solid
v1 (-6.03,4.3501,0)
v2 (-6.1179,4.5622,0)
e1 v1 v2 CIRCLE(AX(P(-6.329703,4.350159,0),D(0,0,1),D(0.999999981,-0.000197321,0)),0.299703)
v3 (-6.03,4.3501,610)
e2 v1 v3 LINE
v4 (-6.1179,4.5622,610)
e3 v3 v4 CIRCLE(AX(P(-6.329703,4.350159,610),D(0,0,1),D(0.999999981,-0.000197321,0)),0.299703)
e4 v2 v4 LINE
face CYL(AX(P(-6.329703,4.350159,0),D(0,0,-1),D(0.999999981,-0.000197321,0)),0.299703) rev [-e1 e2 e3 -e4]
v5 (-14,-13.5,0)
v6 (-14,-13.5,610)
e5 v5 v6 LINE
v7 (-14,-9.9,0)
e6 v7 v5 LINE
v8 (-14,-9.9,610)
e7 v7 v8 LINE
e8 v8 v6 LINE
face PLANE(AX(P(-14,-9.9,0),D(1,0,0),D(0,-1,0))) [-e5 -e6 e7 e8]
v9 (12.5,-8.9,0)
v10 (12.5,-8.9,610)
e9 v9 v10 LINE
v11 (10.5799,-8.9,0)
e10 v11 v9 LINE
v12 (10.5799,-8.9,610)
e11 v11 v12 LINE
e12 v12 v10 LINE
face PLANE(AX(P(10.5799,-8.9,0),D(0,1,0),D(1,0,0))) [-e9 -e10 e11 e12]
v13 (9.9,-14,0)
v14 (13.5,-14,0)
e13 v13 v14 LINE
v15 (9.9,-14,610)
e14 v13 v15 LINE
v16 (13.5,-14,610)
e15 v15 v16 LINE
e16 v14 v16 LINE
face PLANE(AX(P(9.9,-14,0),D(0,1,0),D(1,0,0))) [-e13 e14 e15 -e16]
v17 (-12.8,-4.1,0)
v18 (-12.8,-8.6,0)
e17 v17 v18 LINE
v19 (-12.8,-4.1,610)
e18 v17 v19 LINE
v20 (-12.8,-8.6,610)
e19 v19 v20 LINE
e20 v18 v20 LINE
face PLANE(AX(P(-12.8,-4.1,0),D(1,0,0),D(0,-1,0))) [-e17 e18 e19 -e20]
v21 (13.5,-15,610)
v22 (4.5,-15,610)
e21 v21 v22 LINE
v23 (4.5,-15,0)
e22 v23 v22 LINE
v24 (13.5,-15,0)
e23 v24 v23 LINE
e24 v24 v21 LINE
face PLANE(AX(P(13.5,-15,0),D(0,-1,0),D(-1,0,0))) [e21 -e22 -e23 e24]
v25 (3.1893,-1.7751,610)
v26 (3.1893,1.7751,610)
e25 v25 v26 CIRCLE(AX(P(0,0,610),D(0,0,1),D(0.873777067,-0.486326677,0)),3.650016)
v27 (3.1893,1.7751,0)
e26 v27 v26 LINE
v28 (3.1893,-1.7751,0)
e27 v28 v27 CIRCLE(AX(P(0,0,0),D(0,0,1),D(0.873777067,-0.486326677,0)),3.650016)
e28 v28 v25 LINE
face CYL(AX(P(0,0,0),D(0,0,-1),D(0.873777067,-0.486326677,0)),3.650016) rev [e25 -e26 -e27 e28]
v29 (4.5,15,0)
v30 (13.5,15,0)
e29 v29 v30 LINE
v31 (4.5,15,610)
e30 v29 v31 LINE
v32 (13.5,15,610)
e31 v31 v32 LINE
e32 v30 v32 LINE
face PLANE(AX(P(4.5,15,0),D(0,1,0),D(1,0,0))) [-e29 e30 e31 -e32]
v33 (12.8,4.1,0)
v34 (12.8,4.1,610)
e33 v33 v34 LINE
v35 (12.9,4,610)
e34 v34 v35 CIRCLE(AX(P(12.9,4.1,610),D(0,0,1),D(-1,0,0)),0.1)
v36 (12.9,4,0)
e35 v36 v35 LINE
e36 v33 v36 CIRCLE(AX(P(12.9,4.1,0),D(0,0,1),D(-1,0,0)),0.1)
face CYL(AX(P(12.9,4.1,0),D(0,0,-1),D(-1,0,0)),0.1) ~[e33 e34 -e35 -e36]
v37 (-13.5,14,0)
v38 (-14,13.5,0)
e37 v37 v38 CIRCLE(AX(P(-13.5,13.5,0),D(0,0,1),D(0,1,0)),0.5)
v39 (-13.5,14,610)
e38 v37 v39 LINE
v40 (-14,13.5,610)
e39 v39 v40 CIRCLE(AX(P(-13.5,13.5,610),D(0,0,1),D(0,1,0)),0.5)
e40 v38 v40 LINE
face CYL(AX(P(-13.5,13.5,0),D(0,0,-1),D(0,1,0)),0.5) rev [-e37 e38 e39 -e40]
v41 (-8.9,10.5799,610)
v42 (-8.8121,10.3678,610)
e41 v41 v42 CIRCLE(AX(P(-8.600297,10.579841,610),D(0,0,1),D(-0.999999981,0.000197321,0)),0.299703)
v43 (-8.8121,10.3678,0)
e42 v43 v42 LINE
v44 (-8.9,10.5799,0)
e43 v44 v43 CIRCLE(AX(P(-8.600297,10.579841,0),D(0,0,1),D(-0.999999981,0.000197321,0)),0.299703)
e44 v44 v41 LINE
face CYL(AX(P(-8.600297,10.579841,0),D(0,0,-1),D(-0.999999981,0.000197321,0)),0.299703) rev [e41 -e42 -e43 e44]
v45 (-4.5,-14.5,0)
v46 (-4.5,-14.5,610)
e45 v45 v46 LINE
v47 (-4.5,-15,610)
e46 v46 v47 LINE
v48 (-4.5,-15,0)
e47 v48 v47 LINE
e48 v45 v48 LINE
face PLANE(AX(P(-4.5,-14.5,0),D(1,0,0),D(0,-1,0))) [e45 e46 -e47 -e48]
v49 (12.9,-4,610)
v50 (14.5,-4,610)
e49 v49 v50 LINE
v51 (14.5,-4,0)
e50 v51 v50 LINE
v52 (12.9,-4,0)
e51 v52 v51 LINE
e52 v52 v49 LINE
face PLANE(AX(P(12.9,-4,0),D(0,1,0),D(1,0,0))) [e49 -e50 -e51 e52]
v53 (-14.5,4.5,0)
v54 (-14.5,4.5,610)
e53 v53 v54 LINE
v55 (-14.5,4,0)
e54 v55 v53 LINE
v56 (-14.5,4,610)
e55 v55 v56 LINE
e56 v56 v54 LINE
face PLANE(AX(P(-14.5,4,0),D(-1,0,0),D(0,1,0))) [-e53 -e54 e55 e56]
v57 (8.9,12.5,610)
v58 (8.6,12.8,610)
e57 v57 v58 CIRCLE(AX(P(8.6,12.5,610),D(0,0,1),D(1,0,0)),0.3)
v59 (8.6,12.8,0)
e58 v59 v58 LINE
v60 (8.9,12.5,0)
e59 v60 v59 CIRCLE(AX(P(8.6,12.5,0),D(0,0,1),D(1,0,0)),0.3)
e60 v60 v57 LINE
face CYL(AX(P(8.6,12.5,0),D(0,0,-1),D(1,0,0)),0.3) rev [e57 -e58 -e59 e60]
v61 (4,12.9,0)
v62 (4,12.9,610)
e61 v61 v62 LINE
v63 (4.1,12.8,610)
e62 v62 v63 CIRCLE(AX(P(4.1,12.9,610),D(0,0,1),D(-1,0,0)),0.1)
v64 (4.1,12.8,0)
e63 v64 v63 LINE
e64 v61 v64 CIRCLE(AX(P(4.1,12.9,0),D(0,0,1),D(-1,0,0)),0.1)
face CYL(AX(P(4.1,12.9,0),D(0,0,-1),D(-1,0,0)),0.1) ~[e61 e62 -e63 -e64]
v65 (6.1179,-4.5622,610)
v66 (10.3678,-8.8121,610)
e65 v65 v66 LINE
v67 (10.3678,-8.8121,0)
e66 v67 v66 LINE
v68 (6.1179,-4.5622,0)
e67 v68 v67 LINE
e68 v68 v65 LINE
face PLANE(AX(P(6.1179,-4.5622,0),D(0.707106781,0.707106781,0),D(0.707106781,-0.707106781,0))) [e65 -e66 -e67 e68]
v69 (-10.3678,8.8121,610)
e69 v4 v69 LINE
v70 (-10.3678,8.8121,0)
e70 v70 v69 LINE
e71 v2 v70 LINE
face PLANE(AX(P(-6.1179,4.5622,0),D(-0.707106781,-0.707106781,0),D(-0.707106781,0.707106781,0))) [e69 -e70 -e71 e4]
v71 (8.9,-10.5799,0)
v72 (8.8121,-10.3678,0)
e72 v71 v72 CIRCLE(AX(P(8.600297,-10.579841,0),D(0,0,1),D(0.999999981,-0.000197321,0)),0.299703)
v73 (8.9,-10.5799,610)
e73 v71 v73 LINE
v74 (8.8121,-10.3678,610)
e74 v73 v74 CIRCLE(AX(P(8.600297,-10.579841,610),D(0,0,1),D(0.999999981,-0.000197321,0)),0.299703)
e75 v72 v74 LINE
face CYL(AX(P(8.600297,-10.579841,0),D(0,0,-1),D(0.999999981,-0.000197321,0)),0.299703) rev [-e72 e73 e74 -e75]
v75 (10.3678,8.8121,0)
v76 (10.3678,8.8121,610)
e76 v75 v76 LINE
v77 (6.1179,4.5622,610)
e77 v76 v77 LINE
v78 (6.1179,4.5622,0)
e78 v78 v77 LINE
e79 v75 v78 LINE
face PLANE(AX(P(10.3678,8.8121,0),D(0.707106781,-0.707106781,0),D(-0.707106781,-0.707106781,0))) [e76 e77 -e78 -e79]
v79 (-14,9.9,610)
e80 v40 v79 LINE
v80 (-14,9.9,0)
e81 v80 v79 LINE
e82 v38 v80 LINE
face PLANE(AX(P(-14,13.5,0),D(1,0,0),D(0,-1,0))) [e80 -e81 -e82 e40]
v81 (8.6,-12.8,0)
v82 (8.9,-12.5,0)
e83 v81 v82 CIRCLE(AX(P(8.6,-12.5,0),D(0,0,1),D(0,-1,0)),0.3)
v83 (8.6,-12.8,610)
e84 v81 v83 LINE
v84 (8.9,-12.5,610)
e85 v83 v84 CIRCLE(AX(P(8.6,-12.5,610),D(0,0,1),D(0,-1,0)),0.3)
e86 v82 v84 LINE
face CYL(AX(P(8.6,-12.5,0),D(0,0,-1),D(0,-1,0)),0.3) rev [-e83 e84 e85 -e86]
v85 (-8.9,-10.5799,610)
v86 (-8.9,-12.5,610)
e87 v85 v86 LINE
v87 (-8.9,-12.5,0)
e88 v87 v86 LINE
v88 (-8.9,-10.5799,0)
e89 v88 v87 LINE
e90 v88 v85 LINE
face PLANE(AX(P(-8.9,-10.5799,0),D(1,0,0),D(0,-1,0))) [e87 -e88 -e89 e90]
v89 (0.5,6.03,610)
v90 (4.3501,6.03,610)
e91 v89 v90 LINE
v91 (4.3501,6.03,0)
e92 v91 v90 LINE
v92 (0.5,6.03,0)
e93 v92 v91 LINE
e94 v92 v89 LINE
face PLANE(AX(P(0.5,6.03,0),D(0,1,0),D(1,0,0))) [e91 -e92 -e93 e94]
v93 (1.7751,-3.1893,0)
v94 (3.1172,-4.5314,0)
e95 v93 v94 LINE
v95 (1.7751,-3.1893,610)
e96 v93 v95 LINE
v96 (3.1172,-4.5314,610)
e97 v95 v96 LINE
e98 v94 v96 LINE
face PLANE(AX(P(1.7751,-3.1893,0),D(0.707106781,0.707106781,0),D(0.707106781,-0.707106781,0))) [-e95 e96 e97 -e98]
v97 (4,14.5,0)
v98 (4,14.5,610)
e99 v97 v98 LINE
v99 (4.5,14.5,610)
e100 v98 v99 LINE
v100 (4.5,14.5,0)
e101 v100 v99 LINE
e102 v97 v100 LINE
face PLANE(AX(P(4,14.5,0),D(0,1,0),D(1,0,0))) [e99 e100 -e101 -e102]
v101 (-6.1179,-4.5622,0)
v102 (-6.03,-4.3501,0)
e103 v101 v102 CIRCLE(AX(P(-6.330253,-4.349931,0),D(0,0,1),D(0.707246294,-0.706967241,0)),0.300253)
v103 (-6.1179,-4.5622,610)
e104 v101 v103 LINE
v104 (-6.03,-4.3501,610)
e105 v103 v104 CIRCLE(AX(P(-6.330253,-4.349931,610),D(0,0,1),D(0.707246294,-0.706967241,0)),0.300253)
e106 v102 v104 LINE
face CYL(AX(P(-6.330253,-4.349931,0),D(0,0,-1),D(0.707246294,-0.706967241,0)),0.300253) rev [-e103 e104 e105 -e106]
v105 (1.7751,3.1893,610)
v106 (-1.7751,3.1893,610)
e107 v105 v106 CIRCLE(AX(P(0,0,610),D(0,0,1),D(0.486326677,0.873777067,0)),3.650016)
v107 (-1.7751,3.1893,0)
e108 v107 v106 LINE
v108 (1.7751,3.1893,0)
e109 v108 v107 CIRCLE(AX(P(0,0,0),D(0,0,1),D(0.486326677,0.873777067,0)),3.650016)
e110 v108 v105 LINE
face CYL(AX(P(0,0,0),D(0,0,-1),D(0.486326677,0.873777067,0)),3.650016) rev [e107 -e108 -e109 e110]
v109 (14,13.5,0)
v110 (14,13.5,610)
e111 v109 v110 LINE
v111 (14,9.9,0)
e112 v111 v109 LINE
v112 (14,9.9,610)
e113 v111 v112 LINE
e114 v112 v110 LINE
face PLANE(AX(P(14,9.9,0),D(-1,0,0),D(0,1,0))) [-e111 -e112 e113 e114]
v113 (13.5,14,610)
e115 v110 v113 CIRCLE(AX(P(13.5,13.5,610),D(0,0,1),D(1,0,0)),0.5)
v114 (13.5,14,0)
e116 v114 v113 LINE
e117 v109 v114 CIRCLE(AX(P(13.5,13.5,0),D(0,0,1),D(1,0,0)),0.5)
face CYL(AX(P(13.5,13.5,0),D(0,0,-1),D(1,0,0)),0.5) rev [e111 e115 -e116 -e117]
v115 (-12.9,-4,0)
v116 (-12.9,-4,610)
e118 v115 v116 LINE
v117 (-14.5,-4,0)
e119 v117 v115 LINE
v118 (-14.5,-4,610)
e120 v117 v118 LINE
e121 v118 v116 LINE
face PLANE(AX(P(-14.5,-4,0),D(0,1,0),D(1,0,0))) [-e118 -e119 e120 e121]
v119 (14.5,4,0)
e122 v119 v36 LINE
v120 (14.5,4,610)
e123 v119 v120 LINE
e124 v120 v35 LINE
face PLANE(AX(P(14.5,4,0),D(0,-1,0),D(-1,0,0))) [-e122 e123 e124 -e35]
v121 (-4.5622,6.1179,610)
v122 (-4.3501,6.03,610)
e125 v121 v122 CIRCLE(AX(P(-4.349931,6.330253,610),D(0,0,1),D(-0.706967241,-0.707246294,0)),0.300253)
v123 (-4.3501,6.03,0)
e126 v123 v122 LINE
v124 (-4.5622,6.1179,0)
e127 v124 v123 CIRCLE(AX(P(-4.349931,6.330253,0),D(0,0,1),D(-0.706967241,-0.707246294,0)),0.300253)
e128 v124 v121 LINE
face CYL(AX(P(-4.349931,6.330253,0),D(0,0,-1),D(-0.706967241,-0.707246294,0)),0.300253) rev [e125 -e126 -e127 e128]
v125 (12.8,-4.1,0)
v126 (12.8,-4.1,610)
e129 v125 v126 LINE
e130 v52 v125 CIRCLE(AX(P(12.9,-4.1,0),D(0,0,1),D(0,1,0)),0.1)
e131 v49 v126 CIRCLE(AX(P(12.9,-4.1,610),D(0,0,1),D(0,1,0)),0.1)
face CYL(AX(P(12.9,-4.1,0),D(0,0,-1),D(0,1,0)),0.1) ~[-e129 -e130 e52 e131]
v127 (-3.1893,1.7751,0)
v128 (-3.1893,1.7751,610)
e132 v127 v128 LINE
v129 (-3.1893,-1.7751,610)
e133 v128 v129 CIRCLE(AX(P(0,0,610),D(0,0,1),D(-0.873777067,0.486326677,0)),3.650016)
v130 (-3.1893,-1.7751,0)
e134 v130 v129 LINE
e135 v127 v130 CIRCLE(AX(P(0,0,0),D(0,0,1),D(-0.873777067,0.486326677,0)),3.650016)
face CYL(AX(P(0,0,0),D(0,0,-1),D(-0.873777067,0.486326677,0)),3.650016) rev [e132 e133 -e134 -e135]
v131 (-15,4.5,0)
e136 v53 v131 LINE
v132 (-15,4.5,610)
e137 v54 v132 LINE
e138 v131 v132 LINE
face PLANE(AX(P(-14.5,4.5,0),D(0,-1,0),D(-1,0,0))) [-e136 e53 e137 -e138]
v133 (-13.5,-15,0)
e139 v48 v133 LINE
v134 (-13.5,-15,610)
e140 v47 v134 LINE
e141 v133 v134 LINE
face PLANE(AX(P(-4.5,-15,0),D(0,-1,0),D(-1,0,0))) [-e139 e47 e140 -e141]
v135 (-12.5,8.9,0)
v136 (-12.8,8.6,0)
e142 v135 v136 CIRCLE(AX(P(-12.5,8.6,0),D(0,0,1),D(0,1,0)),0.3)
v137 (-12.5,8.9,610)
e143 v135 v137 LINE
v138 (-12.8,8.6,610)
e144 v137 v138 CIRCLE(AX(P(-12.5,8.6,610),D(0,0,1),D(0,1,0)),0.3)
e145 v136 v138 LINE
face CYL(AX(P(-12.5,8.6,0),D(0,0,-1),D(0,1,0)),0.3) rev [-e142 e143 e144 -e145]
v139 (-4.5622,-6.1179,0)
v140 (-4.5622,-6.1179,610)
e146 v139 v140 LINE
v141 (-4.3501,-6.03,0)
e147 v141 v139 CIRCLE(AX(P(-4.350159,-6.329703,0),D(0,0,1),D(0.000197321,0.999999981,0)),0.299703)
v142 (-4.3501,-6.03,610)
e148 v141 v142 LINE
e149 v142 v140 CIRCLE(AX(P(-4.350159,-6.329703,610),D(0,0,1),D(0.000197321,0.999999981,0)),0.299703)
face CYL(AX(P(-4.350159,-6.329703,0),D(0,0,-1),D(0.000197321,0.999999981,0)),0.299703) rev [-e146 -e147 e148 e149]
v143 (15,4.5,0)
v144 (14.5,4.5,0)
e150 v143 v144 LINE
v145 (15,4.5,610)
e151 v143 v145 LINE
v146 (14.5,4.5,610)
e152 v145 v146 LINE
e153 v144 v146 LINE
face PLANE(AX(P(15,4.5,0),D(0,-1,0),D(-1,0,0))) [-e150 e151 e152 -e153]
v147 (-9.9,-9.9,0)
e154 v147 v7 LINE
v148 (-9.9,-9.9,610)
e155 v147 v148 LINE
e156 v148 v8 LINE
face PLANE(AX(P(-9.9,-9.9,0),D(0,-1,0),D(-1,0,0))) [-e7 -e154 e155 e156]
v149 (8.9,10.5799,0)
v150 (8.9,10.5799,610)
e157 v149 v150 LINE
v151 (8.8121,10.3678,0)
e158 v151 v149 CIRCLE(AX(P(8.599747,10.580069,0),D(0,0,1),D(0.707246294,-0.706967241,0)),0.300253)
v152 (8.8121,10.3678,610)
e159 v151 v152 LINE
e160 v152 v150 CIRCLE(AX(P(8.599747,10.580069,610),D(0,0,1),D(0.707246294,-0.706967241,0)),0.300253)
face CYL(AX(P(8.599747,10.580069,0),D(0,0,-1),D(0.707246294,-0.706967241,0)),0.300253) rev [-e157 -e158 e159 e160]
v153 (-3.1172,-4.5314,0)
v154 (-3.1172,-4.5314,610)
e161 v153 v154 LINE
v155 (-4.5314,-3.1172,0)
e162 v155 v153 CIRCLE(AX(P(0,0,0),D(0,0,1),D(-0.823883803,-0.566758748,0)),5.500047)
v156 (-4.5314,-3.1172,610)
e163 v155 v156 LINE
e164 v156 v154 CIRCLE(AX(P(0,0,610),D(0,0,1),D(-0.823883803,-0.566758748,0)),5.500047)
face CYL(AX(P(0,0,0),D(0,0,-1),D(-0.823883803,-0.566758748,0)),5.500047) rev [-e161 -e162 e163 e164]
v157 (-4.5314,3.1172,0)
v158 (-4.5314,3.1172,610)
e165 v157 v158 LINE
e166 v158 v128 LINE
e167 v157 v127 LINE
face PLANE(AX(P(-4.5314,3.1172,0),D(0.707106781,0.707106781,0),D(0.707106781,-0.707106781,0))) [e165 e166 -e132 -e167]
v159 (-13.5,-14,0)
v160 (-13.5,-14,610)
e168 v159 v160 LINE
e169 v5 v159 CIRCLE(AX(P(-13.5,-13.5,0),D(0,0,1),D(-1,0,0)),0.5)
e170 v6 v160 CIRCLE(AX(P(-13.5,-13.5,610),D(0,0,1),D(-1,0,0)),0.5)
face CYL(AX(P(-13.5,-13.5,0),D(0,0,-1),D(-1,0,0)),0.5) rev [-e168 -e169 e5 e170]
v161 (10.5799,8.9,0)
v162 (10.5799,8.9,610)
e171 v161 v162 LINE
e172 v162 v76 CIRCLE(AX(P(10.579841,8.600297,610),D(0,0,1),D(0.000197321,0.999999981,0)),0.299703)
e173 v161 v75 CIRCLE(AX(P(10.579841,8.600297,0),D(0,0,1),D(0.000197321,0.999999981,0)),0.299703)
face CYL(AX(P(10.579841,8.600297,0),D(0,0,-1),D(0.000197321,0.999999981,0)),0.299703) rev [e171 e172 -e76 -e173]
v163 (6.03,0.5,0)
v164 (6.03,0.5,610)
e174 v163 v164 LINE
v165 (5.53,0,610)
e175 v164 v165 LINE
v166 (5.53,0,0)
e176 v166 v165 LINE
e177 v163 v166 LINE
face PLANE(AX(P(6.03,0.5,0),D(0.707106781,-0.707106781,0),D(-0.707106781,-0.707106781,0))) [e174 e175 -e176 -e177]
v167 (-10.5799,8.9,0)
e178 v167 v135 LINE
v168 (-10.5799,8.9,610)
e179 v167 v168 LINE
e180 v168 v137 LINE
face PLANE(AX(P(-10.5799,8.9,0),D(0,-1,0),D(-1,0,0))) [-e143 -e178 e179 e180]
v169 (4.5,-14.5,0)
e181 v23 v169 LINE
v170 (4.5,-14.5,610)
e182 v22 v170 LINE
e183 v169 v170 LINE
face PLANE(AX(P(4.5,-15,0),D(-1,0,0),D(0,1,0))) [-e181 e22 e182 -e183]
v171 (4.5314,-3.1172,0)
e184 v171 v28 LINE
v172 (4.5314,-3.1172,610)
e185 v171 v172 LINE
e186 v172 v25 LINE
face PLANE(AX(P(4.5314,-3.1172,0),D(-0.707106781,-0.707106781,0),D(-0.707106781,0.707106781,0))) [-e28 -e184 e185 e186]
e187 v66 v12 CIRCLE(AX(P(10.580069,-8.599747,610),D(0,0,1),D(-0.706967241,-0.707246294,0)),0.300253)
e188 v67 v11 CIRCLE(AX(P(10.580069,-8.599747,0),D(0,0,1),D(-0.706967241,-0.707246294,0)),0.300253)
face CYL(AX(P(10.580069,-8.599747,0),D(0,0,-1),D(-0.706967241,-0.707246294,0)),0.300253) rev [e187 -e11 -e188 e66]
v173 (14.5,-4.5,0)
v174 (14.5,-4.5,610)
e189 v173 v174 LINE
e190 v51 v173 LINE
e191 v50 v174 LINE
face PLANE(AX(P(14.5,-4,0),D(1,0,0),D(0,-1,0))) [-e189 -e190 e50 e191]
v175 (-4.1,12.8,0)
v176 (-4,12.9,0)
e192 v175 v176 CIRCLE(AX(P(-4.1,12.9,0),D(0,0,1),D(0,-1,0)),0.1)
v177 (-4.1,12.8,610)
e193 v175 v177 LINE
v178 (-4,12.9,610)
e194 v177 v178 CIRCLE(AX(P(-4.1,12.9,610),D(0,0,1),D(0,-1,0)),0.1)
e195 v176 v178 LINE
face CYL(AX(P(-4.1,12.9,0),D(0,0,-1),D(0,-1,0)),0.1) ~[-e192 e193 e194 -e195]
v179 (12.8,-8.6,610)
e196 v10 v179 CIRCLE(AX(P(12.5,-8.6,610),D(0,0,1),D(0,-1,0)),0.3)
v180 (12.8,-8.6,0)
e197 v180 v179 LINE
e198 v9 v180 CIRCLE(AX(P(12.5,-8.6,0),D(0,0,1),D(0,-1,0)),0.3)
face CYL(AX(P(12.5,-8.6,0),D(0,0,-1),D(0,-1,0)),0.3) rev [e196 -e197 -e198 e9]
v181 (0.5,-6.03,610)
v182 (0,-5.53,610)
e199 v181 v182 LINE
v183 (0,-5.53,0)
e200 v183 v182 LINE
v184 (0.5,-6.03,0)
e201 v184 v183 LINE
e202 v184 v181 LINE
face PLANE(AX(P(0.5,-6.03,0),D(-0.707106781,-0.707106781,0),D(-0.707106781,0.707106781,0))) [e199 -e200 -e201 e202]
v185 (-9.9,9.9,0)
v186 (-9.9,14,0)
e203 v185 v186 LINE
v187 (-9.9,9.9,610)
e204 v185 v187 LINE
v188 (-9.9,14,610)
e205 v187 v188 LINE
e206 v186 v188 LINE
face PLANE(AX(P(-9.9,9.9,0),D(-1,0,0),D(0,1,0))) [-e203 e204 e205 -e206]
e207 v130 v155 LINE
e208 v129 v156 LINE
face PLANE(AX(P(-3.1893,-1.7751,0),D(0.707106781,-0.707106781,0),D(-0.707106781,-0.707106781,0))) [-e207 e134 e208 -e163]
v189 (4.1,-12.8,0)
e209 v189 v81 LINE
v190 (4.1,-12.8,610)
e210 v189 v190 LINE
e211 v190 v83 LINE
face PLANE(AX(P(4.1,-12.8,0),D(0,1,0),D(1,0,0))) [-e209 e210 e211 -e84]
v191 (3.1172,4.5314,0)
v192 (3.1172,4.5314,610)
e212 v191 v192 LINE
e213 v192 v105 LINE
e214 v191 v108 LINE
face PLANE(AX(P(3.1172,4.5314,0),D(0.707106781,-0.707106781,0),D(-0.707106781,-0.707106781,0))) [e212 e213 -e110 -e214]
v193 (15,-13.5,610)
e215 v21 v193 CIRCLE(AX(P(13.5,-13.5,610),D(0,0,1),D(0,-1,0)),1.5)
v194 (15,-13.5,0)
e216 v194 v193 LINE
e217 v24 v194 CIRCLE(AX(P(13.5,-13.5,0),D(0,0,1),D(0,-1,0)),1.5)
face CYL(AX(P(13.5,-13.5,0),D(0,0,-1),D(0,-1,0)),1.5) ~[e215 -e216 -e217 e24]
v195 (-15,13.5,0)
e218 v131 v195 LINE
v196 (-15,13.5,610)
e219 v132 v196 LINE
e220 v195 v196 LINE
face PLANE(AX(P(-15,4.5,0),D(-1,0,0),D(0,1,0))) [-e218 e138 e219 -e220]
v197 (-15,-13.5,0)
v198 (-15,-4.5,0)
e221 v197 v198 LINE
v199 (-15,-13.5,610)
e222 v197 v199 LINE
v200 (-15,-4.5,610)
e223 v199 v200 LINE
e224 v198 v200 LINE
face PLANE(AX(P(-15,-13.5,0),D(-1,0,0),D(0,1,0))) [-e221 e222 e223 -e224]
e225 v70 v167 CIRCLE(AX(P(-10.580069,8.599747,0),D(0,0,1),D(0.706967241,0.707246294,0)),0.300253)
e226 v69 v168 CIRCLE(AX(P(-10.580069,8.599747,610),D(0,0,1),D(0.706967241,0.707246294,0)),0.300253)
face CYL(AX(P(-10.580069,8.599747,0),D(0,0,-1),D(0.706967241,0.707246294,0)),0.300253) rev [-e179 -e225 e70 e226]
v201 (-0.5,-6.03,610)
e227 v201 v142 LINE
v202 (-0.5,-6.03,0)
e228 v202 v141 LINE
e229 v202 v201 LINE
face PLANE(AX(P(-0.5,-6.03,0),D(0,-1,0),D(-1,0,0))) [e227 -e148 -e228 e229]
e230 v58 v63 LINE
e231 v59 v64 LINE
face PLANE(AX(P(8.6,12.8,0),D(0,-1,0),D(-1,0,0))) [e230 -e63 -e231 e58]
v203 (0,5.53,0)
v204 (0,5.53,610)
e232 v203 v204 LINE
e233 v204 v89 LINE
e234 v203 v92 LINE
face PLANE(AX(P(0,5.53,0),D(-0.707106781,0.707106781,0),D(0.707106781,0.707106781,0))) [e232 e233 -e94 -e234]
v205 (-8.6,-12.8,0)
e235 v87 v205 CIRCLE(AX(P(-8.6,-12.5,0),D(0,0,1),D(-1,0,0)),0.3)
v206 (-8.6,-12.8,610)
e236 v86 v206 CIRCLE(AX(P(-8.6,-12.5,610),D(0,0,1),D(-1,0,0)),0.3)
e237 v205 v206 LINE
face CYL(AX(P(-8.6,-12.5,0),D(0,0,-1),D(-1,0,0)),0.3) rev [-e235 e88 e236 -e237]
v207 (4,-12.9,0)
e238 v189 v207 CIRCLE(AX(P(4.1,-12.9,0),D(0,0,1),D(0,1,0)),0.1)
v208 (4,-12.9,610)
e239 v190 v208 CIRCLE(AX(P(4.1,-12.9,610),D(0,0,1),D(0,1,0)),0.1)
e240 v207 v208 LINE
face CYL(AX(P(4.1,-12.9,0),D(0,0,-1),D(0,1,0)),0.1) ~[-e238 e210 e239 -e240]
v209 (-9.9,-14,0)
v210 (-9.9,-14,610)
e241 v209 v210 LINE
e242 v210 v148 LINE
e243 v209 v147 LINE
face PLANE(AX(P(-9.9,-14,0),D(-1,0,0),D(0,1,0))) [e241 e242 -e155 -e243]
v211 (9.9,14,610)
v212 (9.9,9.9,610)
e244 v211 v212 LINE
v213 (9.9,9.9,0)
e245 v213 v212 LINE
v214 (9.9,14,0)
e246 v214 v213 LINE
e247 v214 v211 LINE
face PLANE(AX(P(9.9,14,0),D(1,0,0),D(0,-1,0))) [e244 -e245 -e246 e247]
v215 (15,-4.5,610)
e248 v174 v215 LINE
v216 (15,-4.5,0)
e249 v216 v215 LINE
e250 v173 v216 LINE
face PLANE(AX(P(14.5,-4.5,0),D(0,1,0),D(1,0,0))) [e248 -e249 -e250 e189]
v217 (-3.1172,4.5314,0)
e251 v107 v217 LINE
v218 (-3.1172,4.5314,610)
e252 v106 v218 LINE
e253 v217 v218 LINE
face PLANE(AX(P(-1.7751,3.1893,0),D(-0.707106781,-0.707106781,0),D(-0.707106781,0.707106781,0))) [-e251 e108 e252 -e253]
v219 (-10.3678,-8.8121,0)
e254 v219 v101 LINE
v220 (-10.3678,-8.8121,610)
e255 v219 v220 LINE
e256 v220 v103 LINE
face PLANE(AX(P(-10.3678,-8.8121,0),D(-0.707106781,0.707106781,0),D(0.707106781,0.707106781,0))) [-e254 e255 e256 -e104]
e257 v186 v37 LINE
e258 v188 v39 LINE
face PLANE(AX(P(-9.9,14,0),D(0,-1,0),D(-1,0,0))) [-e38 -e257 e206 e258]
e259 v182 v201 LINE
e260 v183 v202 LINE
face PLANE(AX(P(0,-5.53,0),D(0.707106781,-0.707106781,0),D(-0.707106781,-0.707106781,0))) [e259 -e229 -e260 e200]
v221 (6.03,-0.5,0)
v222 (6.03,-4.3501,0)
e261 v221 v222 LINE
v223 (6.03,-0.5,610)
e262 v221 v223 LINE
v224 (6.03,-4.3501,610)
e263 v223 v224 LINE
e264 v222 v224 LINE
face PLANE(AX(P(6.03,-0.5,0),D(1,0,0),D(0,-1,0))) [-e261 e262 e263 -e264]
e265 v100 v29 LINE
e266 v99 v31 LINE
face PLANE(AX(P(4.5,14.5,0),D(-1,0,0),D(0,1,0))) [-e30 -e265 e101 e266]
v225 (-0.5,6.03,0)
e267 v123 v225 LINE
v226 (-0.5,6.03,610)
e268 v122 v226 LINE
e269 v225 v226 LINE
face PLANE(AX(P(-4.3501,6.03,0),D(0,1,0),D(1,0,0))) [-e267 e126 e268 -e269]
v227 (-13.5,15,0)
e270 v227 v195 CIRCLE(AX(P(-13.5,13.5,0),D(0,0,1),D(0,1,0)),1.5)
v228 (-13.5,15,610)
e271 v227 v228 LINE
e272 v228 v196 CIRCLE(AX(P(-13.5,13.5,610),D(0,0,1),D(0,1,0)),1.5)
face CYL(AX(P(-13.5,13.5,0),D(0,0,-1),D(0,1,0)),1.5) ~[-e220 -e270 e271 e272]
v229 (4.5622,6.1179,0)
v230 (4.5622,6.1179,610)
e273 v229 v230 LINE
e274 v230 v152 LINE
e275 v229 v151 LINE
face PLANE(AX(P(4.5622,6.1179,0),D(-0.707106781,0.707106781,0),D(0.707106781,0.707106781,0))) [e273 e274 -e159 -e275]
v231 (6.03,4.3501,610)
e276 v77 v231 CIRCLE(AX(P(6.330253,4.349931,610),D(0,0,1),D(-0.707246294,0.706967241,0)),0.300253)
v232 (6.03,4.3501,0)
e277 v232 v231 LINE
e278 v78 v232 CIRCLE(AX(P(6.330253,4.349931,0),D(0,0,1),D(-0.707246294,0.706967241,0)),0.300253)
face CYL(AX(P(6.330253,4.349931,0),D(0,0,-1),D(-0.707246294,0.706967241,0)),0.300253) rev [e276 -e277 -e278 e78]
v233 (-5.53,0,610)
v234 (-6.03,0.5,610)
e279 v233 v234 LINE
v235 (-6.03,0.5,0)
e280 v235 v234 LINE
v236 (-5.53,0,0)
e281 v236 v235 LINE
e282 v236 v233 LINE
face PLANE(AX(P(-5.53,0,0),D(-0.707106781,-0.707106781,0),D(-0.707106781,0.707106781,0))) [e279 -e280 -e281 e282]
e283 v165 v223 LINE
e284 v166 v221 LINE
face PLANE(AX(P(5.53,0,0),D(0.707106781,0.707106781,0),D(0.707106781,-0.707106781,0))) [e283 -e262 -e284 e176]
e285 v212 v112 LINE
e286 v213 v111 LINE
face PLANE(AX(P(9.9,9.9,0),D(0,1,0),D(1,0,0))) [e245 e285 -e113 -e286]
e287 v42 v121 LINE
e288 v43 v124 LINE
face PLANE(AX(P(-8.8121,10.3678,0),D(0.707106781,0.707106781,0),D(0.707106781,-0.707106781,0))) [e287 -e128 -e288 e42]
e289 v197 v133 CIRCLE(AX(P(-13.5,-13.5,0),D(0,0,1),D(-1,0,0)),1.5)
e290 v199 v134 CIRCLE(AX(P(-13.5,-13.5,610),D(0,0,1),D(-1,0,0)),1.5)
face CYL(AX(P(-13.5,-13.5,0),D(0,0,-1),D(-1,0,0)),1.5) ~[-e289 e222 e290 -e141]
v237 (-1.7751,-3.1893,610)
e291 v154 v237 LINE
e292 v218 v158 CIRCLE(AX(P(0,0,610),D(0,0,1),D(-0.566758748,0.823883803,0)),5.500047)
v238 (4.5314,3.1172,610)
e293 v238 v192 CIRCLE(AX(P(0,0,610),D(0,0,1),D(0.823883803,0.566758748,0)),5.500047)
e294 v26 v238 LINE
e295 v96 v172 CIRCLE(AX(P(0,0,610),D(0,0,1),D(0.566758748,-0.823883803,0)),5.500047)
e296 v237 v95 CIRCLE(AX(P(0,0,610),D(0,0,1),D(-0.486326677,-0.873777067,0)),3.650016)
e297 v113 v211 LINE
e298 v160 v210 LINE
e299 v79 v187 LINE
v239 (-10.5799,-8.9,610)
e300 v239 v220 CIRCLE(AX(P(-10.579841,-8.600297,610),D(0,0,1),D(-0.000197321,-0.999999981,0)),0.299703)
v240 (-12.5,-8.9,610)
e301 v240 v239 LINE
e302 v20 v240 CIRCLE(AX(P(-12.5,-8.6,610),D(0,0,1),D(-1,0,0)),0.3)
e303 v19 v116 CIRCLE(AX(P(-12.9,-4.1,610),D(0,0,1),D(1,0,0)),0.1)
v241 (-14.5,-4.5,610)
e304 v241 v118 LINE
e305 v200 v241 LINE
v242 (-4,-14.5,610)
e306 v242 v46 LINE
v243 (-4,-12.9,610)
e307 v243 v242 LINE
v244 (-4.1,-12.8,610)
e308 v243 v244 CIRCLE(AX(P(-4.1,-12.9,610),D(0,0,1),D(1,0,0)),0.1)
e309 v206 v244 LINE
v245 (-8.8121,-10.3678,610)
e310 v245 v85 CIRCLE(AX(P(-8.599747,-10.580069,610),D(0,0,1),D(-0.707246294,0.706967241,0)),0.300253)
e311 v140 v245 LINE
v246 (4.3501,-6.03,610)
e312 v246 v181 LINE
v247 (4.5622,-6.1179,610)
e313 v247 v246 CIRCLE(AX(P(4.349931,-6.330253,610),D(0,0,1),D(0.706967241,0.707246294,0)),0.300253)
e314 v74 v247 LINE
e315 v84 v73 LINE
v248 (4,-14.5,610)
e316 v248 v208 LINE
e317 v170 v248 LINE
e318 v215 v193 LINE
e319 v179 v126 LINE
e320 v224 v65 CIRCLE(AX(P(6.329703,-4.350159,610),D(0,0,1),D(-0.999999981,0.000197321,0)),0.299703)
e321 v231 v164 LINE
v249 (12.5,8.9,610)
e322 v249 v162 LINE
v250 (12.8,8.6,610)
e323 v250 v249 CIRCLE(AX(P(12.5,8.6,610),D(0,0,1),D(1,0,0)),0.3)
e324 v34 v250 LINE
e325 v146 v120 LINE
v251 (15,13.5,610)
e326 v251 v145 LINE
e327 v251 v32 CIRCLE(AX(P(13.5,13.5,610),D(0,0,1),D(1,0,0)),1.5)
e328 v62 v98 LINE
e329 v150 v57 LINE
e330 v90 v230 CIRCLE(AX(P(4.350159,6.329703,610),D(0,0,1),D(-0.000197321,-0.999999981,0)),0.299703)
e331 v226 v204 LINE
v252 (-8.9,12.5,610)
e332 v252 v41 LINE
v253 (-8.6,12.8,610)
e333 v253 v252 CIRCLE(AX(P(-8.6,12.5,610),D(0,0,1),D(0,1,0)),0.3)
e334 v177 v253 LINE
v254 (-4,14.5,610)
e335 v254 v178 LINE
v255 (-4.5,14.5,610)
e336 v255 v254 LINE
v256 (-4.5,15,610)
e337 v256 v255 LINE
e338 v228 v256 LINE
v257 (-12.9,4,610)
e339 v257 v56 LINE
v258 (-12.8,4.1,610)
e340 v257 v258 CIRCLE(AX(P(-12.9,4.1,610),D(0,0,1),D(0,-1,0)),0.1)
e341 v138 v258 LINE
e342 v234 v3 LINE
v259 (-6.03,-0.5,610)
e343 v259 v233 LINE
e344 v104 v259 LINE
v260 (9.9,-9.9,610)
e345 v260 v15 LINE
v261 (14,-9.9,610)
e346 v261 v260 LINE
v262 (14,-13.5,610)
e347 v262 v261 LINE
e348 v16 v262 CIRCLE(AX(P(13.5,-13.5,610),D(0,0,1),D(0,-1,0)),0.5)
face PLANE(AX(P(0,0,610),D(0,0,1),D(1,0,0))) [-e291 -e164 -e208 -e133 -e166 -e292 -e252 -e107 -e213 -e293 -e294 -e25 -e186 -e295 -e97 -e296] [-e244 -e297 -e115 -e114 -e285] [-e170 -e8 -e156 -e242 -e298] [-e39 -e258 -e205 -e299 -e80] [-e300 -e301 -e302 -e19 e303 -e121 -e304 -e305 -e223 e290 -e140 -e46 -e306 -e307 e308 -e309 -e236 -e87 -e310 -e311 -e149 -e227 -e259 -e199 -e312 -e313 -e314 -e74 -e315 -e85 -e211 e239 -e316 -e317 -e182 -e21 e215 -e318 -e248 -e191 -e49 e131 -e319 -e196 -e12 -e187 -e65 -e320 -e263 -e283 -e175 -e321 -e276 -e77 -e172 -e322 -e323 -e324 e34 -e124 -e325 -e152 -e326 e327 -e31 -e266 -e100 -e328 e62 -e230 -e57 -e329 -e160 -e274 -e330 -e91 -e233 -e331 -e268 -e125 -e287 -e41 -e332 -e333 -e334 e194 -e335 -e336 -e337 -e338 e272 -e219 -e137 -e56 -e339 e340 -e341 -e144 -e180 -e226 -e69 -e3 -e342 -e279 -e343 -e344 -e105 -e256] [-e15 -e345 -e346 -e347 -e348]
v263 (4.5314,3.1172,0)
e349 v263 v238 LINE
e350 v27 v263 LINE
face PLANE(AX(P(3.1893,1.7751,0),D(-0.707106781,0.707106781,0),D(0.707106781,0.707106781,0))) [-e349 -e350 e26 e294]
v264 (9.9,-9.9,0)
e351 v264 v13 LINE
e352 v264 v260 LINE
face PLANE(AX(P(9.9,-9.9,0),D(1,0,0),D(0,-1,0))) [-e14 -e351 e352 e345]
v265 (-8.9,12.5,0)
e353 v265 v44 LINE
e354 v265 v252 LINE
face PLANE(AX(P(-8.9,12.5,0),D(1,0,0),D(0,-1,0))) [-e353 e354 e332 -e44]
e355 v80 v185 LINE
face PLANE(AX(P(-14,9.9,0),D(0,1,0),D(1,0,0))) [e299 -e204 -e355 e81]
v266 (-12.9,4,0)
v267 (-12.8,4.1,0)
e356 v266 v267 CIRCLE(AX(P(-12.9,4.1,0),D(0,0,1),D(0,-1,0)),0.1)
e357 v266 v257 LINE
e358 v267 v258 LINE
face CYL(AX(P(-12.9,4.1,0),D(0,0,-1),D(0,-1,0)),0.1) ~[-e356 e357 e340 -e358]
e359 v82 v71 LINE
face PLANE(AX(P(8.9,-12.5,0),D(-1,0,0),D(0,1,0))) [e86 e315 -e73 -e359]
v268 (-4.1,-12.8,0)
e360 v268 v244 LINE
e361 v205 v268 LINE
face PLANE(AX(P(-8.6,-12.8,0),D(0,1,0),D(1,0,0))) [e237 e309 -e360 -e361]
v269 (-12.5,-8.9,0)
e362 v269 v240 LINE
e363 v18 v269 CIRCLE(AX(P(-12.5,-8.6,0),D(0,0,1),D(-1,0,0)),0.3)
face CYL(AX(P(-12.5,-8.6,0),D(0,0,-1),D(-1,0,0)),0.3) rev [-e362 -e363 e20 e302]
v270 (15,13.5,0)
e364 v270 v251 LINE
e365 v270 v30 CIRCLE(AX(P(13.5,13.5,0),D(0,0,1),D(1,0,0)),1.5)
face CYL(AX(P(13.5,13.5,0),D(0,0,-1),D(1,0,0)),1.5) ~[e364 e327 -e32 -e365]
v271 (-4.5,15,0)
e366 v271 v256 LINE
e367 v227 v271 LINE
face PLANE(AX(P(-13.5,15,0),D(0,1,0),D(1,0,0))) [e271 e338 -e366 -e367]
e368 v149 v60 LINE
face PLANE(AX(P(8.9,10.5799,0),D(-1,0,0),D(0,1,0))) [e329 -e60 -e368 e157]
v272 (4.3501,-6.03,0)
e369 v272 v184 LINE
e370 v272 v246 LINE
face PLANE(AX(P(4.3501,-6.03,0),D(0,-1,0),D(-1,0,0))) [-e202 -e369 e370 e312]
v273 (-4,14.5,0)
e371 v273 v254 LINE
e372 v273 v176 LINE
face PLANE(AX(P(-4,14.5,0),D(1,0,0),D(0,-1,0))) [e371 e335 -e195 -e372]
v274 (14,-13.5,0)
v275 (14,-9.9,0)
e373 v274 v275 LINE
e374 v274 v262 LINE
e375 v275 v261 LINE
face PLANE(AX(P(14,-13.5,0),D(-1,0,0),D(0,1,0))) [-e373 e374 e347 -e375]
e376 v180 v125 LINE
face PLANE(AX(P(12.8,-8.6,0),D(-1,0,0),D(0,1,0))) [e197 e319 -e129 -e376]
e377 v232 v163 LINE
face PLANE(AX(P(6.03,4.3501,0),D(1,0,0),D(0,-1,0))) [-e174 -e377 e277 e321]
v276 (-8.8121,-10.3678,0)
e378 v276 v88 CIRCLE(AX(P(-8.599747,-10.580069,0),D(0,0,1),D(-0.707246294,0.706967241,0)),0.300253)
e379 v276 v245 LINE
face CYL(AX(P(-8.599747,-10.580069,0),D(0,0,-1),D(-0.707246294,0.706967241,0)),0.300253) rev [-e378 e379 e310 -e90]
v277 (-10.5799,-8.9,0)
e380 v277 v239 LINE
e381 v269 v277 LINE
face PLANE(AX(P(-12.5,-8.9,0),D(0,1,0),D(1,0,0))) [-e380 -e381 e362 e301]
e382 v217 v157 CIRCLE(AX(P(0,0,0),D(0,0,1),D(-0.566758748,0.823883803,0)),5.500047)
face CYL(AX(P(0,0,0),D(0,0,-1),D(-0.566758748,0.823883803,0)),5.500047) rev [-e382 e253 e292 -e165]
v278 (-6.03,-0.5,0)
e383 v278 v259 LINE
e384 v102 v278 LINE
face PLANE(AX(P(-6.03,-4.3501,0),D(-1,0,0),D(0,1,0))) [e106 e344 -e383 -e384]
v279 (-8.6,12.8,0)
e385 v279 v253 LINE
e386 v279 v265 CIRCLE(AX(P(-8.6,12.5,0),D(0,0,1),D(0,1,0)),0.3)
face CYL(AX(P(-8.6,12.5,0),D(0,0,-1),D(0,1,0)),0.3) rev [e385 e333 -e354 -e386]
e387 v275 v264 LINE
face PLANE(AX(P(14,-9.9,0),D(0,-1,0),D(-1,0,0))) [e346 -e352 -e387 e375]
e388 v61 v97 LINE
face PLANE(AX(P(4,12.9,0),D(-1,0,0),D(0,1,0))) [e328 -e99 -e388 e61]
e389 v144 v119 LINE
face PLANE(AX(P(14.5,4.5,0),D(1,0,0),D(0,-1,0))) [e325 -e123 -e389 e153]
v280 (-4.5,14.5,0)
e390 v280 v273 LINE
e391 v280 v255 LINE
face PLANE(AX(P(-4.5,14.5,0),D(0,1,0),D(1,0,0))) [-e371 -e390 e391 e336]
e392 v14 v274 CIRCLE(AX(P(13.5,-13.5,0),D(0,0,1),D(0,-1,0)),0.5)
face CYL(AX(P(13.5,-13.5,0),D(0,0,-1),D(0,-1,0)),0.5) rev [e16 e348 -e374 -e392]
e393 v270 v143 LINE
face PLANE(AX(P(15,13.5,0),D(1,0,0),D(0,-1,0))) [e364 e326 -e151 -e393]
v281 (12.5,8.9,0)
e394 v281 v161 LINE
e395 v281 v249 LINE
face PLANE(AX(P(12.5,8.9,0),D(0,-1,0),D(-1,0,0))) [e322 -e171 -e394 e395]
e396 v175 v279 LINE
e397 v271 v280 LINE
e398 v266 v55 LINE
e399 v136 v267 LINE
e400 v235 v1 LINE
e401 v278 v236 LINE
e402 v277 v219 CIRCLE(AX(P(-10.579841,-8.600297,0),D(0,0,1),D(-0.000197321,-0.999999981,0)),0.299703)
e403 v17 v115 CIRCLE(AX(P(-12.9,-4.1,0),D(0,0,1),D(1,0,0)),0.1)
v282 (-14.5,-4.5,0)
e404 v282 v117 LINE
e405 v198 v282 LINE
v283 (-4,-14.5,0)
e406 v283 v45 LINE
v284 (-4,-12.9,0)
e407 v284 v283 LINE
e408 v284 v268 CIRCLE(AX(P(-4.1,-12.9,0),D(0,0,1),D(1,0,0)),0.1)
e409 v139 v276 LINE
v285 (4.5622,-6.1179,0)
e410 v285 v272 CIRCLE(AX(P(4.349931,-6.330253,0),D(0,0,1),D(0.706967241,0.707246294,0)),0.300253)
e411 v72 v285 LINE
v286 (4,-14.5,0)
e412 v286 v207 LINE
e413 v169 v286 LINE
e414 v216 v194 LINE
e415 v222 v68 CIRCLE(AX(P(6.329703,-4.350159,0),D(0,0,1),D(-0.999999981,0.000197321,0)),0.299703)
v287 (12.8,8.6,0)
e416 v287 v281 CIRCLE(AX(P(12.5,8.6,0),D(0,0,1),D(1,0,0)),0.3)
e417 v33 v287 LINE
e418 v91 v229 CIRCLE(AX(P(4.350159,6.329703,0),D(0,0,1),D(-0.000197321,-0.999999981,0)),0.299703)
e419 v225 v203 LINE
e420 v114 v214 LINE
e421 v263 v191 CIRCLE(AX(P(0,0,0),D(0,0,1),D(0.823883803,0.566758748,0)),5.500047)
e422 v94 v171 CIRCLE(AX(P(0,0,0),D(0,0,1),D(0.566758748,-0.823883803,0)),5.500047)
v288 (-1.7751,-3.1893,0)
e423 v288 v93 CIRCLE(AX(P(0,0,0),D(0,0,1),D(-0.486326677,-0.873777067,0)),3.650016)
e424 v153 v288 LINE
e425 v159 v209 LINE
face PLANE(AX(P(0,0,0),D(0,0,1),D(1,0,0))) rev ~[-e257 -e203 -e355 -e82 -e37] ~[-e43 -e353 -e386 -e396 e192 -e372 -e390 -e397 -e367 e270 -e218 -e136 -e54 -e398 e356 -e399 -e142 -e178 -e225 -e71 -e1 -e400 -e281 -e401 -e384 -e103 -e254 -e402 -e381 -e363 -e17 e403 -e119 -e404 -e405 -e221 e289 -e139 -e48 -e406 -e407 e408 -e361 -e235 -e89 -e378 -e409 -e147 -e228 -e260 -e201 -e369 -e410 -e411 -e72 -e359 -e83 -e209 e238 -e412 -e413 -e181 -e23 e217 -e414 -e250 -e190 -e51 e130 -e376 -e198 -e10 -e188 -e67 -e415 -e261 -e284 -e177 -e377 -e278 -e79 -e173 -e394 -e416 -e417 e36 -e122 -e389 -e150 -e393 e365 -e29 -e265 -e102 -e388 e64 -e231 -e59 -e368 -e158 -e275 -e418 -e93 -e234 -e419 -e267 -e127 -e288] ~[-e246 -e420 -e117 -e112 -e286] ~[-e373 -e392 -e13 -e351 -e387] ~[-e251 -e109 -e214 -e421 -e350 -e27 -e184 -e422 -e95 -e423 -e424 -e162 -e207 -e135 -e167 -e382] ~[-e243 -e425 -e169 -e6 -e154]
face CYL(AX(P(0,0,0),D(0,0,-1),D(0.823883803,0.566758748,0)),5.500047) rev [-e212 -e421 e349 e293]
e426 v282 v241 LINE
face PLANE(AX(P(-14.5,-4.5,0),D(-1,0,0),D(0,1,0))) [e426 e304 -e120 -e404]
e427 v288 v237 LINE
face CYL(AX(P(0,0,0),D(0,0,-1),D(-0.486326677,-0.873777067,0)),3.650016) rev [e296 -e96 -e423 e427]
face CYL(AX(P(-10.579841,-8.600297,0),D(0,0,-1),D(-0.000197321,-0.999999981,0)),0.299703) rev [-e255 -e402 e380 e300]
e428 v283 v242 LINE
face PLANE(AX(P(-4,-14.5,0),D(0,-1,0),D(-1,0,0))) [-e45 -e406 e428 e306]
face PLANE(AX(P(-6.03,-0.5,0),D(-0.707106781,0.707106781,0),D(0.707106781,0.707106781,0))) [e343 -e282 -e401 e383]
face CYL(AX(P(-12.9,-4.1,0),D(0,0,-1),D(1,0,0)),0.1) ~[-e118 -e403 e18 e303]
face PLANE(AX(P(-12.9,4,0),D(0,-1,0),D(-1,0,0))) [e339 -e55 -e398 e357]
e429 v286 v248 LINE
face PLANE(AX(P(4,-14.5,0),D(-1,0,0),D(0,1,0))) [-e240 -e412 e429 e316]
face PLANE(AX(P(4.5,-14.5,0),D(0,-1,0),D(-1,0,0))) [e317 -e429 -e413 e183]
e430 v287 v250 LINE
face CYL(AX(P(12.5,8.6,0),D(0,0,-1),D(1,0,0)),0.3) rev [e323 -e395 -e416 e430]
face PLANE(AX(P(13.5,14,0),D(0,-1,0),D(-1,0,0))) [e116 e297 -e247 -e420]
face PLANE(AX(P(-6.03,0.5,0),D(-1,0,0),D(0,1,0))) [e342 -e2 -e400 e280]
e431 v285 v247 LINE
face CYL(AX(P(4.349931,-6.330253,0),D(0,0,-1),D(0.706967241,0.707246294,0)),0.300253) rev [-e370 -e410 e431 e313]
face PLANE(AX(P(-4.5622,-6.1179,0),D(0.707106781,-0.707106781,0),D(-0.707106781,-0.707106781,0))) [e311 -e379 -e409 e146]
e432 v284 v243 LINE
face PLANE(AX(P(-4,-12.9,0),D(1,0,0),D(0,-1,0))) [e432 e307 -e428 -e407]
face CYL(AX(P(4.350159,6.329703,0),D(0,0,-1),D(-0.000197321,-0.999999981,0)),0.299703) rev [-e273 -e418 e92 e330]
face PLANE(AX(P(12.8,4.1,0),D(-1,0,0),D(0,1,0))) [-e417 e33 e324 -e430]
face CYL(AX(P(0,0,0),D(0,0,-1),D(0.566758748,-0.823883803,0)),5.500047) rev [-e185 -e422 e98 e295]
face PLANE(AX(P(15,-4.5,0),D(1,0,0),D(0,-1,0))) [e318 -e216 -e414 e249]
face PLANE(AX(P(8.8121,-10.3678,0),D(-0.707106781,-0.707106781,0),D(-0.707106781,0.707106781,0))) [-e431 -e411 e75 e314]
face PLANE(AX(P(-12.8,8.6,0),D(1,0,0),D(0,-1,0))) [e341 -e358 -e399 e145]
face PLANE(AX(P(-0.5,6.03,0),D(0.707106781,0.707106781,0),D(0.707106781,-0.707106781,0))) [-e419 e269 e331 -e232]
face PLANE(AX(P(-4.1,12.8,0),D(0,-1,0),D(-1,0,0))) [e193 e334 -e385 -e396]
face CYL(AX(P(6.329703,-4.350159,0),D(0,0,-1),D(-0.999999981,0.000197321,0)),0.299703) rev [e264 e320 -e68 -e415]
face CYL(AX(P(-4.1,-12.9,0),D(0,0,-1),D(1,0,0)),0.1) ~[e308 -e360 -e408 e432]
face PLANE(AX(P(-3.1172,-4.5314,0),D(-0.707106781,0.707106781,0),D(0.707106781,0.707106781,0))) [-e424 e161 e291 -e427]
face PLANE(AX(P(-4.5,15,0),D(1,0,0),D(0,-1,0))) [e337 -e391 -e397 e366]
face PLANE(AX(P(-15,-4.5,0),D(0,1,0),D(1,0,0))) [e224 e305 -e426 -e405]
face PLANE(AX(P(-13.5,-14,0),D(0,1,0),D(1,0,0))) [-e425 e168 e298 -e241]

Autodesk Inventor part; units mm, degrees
ref_plane "YZ Plane" through (0, 0, 0) normal (1, 0, 0) x (0, 1, 0)
ref_plane "Płaszczyzna początkowa" through (0, 0, 0) normal (0, 0, 1) x (1, 0, 0)
ref_plane "Płaszczyzna końcowa" through (0, 0, 610) normal (0, 0, 1) x (1, 0, 0)
sketch "Szkic" plane through (0, 0, 0) normal (0, 0, 1) x (1, 0, 0)
  line L0 (1.7751, -3.1893) -> (3.1172, -4.5314)
  arc A0 (-1.7751, -3.1893) -> (1.7751, -3.1893) centre (0, 0) ccw
  line L1 (-3.1172, -4.5314) -> (-1.7751, -3.1893)
  arc A1 (-4.5314, -3.1172) -> (-3.1172, -4.5314) centre (0, 0) ccw
  line L2 (-3.1893, -1.7751) -> (-4.5314, -3.1172)
  arc A2 (-3.1893, 1.7751) -> (-3.1893, -1.7751) centre (0, 0) ccw
  line L3 (-4.5314, 3.1172) -> (-3.1893, 1.7751)
  arc A3 (-3.1172, 4.5314) -> (-4.5314, 3.1172) centre (0, 0) ccw
  line L4 (-1.7751, 3.1893) -> (-3.1172, 4.5314)
  arc A4 (1.7751, 3.1893) -> (-1.7751, 3.1893) centre (0, 0) ccw
  line L5 (3.1172, 4.5314) -> (1.7751, 3.1893)
  arc A5 (4.5314, 3.1172) -> (3.1172, 4.5314) centre (0, 0) ccw
  line L6 (3.1893, 1.7751) -> (4.5314, 3.1172)
  arc A6 (3.1893, -1.7751) -> (3.1893, 1.7751) centre (0, 0) ccw
  line L7 (4.5314, -3.1172) -> (3.1893, -1.7751)
  arc A7 (3.1172, -4.5314) -> (4.5314, -3.1172) centre (0, 0) ccw
  line L8 (14, -13.5) -> (14, -9.9)
  arc A8 (13.5, -14) -> (14, -13.5) centre (13.5, -13.5) ccw
  line L9 (9.9, -14) -> (13.5, -14)
  line L10 (9.9, -9.9) -> (9.9, -14)
  line L11 (14, -9.9) -> (9.9, -9.9)
  line L12 (-9.9, -9.9) -> (-14, -9.9)
  line L13 (-9.9, -14) -> (-9.9, -9.9)
  line L14 (-13.5, -14) -> (-9.9, -14)
  arc A9 (-14, -13.5) -> (-13.5, -14) centre (-13.5, -13.5) ccw
  line L15 (-14, -9.9) -> (-14, -13.5)
  line L16 (14, 9.9) -> (14, 13.5)
  line L17 (9.9, 9.9) -> (14, 9.9)
  line L18 (9.9, 14) -> (9.9, 9.9)
  line L19 (13.5, 14) -> (9.9, 14)
  arc A10 (14, 13.5) -> (13.5, 14) centre (13.5, 13.5) ccw
  line L20 (-14, 9.9) -> (-9.9, 9.9)
  line L21 (-14, 13.5) -> (-14, 9.9)
  arc A11 (-13.5, 14) -> (-14, 13.5) centre (-13.5, 13.5) ccw
  line L22 (-9.9, 14) -> (-13.5, 14)
  line L23 (-9.9, 9.9) -> (-9.9, 14)
  line L24 (13.5, -15) -> (4.5, -15)
  arc A12 (13.5, -15) -> (15, -13.5) centre (13.5, -13.5) ccw
  line L25 (15, -4.5) -> (15, -13.5)
  line L26 (14.5, -4.5) -> (15, -4.5)
  line L27 (14.5, -4) -> (14.5, -4.5)
  line L28 (12.9, -4) -> (14.5, -4)
  arc A13 (12.9, -4) -> (12.8, -4.1) centre (12.9, -4.1) ccw
  line L29 (12.8, -8.6) -> (12.8, -4.1)
  arc A14 (12.5, -8.9) -> (12.8, -8.6) centre (12.5, -8.6) ccw
  line L30 (10.5799, -8.9) -> (12.5, -8.9)
  arc A15 (10.3678, -8.8121) -> (10.5799, -8.9) centre (10.5799, -8.6) ccw
  line L31 (6.1179, -4.5622) -> (10.3678, -8.8121)
  arc A16 (6.03, -4.3501) -> (6.1179, -4.5622) centre (6.33, -4.3501) ccw
  line L32 (6.03, -0.5) -> (6.03, -4.3501)
  line L33 (5.53, 0) -> (6.03, -0.5)
  line L34 (6.03, 0.5) -> (5.53, 0)
  line L35 (6.03, 4.3501) -> (6.03, 0.5)
  arc A17 (6.1179, 4.5622) -> (6.03, 4.3501) centre (6.33, 4.3501) ccw
  line L36 (10.3678, 8.8121) -> (6.1179, 4.5622)
  arc A18 (10.5799, 8.9) -> (10.3678, 8.8121) centre (10.5799, 8.6) ccw
  line L37 (12.5, 8.9) -> (10.5799, 8.9)
  arc A19 (12.8, 8.6) -> (12.5, 8.9) centre (12.5, 8.6) ccw
  line L38 (12.8, 4.1) -> (12.8, 8.6)
  arc A20 (12.8, 4.1) -> (12.9, 4) centre (12.9, 4.1) ccw
  line L39 (14.5, 4) -> (12.9, 4)
  line L40 (14.5, 4.5) -> (14.5, 4)
  line L41 (15, 4.5) -> (14.5, 4.5)
  line L42 (15, 13.5) -> (15, 4.5)
  arc A21 (15, 13.5) -> (13.5, 15) centre (13.5, 13.5) ccw
  line L43 (4.5, 15) -> (13.5, 15)
  line L44 (4.5, 14.5) -> (4.5, 15)
  line L45 (4, 14.5) -> (4.5, 14.5)
  line L46 (4, 12.9) -> (4, 14.5)
  arc A22 (4, 12.9) -> (4.1, 12.8) centre (4.1, 12.9) ccw
  line L47 (8.6, 12.8) -> (4.1, 12.8)
  arc A23 (8.9, 12.5) -> (8.6, 12.8) centre (8.6, 12.5) ccw
  line L48 (8.9, 10.5799) -> (8.9, 12.5)
  arc A24 (8.8121, 10.3678) -> (8.9, 10.5799) centre (8.6, 10.5799) ccw
  line L49 (4.5622, 6.1179) -> (8.8121, 10.3678)
  arc A25 (4.3501, 6.03) -> (4.5622, 6.1179) centre (4.3501, 6.33) ccw
  line L50 (0.5, 6.03) -> (4.3501, 6.03)
  line L51 (0, 5.53) -> (0.5, 6.03)
  line L52 (-0.5, 6.03) -> (0, 5.53)
  line L53 (-4.3501, 6.03) -> (-0.5, 6.03)
  arc A26 (-4.5622, 6.1179) -> (-4.3501, 6.03) centre (-4.3501, 6.33) ccw
  line L54 (-8.8121, 10.3678) -> (-4.5622, 6.1179)
  arc A27 (-8.9, 10.5799) -> (-8.8121, 10.3678) centre (-8.6, 10.5799) ccw
  line L55 (-8.9, 12.5) -> (-8.9, 10.5799)
  arc A28 (-8.6, 12.8) -> (-8.9, 12.5) centre (-8.6, 12.5) ccw
  line L56 (-4.1, 12.8) -> (-8.6, 12.8)
  arc A29 (-4.1, 12.8) -> (-4, 12.9) centre (-4.1, 12.9) ccw
  line L57 (-4, 14.5) -> (-4, 12.9)
  line L58 (-4.5, 14.5) -> (-4, 14.5)
  line L59 (-4.5, 15) -> (-4.5, 14.5)
  line L60 (-13.5, 15) -> (-4.5, 15)
  arc A30 (-13.5, 15) -> (-15, 13.5) centre (-13.5, 13.5) ccw
  line L61 (-15, 4.5) -> (-15, 13.5)
  line L62 (-14.5, 4.5) -> (-15, 4.5)
  line L63 (-14.5, 4) -> (-14.5, 4.5)
  line L64 (-12.9, 4) -> (-14.5, 4)
  arc A31 (-12.9, 4) -> (-12.8, 4.1) centre (-12.9, 4.1) ccw
  line L65 (-12.8, 8.6) -> (-12.8, 4.1)
  arc A32 (-12.5, 8.9) -> (-12.8, 8.6) centre (-12.5, 8.6) ccw
  line L66 (-10.5799, 8.9) -> (-12.5, 8.9)
  arc A33 (-10.3678, 8.8121) -> (-10.5799, 8.9) centre (-10.5799, 8.6) ccw
  line L67 (-6.1179, 4.5622) -> (-10.3678, 8.8121)
  arc A34 (-6.03, 4.3501) -> (-6.1179, 4.5622) centre (-6.33, 4.3501) ccw
  line L68 (-6.03, 0.5) -> (-6.03, 4.3501)
  line L69 (-5.53, 0) -> (-6.03, 0.5)
  line L70 (-6.03, -0.5) -> (-5.53, 0)
  line L71 (-6.03, -4.3501) -> (-6.03, -0.5)
  arc A35 (-6.1179, -4.5622) -> (-6.03, -4.3501) centre (-6.33, -4.3501) ccw
  line L72 (-10.3678, -8.8121) -> (-6.1179, -4.5622)
  arc A36 (-10.5799, -8.9) -> (-10.3678, -8.8121) centre (-10.5799, -8.6) ccw
  line L73 (-12.5, -8.9) -> (-10.5799, -8.9)
  arc A37 (-12.8, -8.6) -> (-12.5, -8.9) centre (-12.5, -8.6) ccw
  line L74 (-12.8, -4.1) -> (-12.8, -8.6)
  arc A38 (-12.8, -4.1) -> (-12.9, -4) centre (-12.9, -4.1) ccw
  line L75 (-14.5, -4) -> (-12.9, -4)
  line L76 (-14.5, -4.5) -> (-14.5, -4)
  line L77 (-15, -4.5) -> (-14.5, -4.5)
  line L78 (-15, -13.5) -> (-15, -4.5)
  arc A39 (-15, -13.5) -> (-13.5, -15) centre (-13.5, -13.5) ccw
  line L79 (-4.5, -15) -> (-13.5, -15)
  line L80 (-4.5, -14.5) -> (-4.5, -15)
  line L81 (-4, -14.5) -> (-4.5, -14.5)
  line L82 (-4, -12.9) -> (-4, -14.5)
  arc A40 (-4, -12.9) -> (-4.1, -12.8) centre (-4.1, -12.9) ccw
  line L83 (-8.6, -12.8) -> (-4.1, -12.8)
  arc A41 (-8.9, -12.5) -> (-8.6, -12.8) centre (-8.6, -12.5) ccw
  line L84 (-8.9, -10.5799) -> (-8.9, -12.5)
  arc A42 (-8.8121, -10.3678) -> (-8.9, -10.5799) centre (-8.6, -10.5799) ccw
  line L85 (-4.5622, -6.1179) -> (-8.8121, -10.3678)
  arc A43 (-4.3501, -6.03) -> (-4.5622, -6.1179) centre (-4.3501, -6.33) ccw
  line L86 (-0.5, -6.03) -> (-4.3501, -6.03)
  line L87 (0, -5.53) -> (-0.5, -6.03)
  line L88 (0.5, -6.03) -> (0, -5.53)
  line L89 (4.3501, -6.03) -> (0.5, -6.03)
  arc A44 (4.5622, -6.1179) -> (4.3501, -6.03) centre (4.3501, -6.33) ccw
  line L90 (8.8121, -10.3678) -> (4.5622, -6.1179)
  arc A45 (8.9, -10.5799) -> (8.8121, -10.3678) centre (8.6, -10.5799) ccw
  line L91 (8.9, -12.5) -> (8.9, -10.5799)
  arc A46 (8.6, -12.8) -> (8.9, -12.5) centre (8.6, -12.5) ccw
  line L92 (4.1, -12.8) -> (8.6, -12.8)
  arc A47 (4.1, -12.8) -> (4, -12.9) centre (4.1, -12.9) ccw
  line L93 (4, -14.5) -> (4, -12.9)
  line L94 (4.5, -14.5) -> (4, -14.5)
  line L95 (4.5, -15) -> (4.5, -14.5)
  point P0 (15, -15)
extrude "Bryła" add sketch "Szkic" along normal up to surface (610 mm away) from surface at 0
sketch "Szkic2" plane through (0, 0, 0) normal (0, 0, 1) x (1, 0, 0)
  line L0 (0, 0) -> (10, 0)
ref_plane "Płaszczyzna konstrukcyjna3" through (0, 0, 0) normal (0, -1, 0) x (1, 0, 0)
sketch "Szkic3" plane through (0, 0, 0) normal (0, -1, 0) x (1, 0, 0)
  line L0 (-2, 0) -> (12, 0)
  line L1 (-2, 610) -> (12, 610)
  dimension "d7" = 610
equation "\"G_OFFSET_START\" = 0"
equation "\"G_OFFSET_END\" = 0"
equation "\"G_L\" = d7"
properties part number "COTS_ARMA_AR3703_30x30_Alu_Extr_00000002" material "Aluminium 6061"
